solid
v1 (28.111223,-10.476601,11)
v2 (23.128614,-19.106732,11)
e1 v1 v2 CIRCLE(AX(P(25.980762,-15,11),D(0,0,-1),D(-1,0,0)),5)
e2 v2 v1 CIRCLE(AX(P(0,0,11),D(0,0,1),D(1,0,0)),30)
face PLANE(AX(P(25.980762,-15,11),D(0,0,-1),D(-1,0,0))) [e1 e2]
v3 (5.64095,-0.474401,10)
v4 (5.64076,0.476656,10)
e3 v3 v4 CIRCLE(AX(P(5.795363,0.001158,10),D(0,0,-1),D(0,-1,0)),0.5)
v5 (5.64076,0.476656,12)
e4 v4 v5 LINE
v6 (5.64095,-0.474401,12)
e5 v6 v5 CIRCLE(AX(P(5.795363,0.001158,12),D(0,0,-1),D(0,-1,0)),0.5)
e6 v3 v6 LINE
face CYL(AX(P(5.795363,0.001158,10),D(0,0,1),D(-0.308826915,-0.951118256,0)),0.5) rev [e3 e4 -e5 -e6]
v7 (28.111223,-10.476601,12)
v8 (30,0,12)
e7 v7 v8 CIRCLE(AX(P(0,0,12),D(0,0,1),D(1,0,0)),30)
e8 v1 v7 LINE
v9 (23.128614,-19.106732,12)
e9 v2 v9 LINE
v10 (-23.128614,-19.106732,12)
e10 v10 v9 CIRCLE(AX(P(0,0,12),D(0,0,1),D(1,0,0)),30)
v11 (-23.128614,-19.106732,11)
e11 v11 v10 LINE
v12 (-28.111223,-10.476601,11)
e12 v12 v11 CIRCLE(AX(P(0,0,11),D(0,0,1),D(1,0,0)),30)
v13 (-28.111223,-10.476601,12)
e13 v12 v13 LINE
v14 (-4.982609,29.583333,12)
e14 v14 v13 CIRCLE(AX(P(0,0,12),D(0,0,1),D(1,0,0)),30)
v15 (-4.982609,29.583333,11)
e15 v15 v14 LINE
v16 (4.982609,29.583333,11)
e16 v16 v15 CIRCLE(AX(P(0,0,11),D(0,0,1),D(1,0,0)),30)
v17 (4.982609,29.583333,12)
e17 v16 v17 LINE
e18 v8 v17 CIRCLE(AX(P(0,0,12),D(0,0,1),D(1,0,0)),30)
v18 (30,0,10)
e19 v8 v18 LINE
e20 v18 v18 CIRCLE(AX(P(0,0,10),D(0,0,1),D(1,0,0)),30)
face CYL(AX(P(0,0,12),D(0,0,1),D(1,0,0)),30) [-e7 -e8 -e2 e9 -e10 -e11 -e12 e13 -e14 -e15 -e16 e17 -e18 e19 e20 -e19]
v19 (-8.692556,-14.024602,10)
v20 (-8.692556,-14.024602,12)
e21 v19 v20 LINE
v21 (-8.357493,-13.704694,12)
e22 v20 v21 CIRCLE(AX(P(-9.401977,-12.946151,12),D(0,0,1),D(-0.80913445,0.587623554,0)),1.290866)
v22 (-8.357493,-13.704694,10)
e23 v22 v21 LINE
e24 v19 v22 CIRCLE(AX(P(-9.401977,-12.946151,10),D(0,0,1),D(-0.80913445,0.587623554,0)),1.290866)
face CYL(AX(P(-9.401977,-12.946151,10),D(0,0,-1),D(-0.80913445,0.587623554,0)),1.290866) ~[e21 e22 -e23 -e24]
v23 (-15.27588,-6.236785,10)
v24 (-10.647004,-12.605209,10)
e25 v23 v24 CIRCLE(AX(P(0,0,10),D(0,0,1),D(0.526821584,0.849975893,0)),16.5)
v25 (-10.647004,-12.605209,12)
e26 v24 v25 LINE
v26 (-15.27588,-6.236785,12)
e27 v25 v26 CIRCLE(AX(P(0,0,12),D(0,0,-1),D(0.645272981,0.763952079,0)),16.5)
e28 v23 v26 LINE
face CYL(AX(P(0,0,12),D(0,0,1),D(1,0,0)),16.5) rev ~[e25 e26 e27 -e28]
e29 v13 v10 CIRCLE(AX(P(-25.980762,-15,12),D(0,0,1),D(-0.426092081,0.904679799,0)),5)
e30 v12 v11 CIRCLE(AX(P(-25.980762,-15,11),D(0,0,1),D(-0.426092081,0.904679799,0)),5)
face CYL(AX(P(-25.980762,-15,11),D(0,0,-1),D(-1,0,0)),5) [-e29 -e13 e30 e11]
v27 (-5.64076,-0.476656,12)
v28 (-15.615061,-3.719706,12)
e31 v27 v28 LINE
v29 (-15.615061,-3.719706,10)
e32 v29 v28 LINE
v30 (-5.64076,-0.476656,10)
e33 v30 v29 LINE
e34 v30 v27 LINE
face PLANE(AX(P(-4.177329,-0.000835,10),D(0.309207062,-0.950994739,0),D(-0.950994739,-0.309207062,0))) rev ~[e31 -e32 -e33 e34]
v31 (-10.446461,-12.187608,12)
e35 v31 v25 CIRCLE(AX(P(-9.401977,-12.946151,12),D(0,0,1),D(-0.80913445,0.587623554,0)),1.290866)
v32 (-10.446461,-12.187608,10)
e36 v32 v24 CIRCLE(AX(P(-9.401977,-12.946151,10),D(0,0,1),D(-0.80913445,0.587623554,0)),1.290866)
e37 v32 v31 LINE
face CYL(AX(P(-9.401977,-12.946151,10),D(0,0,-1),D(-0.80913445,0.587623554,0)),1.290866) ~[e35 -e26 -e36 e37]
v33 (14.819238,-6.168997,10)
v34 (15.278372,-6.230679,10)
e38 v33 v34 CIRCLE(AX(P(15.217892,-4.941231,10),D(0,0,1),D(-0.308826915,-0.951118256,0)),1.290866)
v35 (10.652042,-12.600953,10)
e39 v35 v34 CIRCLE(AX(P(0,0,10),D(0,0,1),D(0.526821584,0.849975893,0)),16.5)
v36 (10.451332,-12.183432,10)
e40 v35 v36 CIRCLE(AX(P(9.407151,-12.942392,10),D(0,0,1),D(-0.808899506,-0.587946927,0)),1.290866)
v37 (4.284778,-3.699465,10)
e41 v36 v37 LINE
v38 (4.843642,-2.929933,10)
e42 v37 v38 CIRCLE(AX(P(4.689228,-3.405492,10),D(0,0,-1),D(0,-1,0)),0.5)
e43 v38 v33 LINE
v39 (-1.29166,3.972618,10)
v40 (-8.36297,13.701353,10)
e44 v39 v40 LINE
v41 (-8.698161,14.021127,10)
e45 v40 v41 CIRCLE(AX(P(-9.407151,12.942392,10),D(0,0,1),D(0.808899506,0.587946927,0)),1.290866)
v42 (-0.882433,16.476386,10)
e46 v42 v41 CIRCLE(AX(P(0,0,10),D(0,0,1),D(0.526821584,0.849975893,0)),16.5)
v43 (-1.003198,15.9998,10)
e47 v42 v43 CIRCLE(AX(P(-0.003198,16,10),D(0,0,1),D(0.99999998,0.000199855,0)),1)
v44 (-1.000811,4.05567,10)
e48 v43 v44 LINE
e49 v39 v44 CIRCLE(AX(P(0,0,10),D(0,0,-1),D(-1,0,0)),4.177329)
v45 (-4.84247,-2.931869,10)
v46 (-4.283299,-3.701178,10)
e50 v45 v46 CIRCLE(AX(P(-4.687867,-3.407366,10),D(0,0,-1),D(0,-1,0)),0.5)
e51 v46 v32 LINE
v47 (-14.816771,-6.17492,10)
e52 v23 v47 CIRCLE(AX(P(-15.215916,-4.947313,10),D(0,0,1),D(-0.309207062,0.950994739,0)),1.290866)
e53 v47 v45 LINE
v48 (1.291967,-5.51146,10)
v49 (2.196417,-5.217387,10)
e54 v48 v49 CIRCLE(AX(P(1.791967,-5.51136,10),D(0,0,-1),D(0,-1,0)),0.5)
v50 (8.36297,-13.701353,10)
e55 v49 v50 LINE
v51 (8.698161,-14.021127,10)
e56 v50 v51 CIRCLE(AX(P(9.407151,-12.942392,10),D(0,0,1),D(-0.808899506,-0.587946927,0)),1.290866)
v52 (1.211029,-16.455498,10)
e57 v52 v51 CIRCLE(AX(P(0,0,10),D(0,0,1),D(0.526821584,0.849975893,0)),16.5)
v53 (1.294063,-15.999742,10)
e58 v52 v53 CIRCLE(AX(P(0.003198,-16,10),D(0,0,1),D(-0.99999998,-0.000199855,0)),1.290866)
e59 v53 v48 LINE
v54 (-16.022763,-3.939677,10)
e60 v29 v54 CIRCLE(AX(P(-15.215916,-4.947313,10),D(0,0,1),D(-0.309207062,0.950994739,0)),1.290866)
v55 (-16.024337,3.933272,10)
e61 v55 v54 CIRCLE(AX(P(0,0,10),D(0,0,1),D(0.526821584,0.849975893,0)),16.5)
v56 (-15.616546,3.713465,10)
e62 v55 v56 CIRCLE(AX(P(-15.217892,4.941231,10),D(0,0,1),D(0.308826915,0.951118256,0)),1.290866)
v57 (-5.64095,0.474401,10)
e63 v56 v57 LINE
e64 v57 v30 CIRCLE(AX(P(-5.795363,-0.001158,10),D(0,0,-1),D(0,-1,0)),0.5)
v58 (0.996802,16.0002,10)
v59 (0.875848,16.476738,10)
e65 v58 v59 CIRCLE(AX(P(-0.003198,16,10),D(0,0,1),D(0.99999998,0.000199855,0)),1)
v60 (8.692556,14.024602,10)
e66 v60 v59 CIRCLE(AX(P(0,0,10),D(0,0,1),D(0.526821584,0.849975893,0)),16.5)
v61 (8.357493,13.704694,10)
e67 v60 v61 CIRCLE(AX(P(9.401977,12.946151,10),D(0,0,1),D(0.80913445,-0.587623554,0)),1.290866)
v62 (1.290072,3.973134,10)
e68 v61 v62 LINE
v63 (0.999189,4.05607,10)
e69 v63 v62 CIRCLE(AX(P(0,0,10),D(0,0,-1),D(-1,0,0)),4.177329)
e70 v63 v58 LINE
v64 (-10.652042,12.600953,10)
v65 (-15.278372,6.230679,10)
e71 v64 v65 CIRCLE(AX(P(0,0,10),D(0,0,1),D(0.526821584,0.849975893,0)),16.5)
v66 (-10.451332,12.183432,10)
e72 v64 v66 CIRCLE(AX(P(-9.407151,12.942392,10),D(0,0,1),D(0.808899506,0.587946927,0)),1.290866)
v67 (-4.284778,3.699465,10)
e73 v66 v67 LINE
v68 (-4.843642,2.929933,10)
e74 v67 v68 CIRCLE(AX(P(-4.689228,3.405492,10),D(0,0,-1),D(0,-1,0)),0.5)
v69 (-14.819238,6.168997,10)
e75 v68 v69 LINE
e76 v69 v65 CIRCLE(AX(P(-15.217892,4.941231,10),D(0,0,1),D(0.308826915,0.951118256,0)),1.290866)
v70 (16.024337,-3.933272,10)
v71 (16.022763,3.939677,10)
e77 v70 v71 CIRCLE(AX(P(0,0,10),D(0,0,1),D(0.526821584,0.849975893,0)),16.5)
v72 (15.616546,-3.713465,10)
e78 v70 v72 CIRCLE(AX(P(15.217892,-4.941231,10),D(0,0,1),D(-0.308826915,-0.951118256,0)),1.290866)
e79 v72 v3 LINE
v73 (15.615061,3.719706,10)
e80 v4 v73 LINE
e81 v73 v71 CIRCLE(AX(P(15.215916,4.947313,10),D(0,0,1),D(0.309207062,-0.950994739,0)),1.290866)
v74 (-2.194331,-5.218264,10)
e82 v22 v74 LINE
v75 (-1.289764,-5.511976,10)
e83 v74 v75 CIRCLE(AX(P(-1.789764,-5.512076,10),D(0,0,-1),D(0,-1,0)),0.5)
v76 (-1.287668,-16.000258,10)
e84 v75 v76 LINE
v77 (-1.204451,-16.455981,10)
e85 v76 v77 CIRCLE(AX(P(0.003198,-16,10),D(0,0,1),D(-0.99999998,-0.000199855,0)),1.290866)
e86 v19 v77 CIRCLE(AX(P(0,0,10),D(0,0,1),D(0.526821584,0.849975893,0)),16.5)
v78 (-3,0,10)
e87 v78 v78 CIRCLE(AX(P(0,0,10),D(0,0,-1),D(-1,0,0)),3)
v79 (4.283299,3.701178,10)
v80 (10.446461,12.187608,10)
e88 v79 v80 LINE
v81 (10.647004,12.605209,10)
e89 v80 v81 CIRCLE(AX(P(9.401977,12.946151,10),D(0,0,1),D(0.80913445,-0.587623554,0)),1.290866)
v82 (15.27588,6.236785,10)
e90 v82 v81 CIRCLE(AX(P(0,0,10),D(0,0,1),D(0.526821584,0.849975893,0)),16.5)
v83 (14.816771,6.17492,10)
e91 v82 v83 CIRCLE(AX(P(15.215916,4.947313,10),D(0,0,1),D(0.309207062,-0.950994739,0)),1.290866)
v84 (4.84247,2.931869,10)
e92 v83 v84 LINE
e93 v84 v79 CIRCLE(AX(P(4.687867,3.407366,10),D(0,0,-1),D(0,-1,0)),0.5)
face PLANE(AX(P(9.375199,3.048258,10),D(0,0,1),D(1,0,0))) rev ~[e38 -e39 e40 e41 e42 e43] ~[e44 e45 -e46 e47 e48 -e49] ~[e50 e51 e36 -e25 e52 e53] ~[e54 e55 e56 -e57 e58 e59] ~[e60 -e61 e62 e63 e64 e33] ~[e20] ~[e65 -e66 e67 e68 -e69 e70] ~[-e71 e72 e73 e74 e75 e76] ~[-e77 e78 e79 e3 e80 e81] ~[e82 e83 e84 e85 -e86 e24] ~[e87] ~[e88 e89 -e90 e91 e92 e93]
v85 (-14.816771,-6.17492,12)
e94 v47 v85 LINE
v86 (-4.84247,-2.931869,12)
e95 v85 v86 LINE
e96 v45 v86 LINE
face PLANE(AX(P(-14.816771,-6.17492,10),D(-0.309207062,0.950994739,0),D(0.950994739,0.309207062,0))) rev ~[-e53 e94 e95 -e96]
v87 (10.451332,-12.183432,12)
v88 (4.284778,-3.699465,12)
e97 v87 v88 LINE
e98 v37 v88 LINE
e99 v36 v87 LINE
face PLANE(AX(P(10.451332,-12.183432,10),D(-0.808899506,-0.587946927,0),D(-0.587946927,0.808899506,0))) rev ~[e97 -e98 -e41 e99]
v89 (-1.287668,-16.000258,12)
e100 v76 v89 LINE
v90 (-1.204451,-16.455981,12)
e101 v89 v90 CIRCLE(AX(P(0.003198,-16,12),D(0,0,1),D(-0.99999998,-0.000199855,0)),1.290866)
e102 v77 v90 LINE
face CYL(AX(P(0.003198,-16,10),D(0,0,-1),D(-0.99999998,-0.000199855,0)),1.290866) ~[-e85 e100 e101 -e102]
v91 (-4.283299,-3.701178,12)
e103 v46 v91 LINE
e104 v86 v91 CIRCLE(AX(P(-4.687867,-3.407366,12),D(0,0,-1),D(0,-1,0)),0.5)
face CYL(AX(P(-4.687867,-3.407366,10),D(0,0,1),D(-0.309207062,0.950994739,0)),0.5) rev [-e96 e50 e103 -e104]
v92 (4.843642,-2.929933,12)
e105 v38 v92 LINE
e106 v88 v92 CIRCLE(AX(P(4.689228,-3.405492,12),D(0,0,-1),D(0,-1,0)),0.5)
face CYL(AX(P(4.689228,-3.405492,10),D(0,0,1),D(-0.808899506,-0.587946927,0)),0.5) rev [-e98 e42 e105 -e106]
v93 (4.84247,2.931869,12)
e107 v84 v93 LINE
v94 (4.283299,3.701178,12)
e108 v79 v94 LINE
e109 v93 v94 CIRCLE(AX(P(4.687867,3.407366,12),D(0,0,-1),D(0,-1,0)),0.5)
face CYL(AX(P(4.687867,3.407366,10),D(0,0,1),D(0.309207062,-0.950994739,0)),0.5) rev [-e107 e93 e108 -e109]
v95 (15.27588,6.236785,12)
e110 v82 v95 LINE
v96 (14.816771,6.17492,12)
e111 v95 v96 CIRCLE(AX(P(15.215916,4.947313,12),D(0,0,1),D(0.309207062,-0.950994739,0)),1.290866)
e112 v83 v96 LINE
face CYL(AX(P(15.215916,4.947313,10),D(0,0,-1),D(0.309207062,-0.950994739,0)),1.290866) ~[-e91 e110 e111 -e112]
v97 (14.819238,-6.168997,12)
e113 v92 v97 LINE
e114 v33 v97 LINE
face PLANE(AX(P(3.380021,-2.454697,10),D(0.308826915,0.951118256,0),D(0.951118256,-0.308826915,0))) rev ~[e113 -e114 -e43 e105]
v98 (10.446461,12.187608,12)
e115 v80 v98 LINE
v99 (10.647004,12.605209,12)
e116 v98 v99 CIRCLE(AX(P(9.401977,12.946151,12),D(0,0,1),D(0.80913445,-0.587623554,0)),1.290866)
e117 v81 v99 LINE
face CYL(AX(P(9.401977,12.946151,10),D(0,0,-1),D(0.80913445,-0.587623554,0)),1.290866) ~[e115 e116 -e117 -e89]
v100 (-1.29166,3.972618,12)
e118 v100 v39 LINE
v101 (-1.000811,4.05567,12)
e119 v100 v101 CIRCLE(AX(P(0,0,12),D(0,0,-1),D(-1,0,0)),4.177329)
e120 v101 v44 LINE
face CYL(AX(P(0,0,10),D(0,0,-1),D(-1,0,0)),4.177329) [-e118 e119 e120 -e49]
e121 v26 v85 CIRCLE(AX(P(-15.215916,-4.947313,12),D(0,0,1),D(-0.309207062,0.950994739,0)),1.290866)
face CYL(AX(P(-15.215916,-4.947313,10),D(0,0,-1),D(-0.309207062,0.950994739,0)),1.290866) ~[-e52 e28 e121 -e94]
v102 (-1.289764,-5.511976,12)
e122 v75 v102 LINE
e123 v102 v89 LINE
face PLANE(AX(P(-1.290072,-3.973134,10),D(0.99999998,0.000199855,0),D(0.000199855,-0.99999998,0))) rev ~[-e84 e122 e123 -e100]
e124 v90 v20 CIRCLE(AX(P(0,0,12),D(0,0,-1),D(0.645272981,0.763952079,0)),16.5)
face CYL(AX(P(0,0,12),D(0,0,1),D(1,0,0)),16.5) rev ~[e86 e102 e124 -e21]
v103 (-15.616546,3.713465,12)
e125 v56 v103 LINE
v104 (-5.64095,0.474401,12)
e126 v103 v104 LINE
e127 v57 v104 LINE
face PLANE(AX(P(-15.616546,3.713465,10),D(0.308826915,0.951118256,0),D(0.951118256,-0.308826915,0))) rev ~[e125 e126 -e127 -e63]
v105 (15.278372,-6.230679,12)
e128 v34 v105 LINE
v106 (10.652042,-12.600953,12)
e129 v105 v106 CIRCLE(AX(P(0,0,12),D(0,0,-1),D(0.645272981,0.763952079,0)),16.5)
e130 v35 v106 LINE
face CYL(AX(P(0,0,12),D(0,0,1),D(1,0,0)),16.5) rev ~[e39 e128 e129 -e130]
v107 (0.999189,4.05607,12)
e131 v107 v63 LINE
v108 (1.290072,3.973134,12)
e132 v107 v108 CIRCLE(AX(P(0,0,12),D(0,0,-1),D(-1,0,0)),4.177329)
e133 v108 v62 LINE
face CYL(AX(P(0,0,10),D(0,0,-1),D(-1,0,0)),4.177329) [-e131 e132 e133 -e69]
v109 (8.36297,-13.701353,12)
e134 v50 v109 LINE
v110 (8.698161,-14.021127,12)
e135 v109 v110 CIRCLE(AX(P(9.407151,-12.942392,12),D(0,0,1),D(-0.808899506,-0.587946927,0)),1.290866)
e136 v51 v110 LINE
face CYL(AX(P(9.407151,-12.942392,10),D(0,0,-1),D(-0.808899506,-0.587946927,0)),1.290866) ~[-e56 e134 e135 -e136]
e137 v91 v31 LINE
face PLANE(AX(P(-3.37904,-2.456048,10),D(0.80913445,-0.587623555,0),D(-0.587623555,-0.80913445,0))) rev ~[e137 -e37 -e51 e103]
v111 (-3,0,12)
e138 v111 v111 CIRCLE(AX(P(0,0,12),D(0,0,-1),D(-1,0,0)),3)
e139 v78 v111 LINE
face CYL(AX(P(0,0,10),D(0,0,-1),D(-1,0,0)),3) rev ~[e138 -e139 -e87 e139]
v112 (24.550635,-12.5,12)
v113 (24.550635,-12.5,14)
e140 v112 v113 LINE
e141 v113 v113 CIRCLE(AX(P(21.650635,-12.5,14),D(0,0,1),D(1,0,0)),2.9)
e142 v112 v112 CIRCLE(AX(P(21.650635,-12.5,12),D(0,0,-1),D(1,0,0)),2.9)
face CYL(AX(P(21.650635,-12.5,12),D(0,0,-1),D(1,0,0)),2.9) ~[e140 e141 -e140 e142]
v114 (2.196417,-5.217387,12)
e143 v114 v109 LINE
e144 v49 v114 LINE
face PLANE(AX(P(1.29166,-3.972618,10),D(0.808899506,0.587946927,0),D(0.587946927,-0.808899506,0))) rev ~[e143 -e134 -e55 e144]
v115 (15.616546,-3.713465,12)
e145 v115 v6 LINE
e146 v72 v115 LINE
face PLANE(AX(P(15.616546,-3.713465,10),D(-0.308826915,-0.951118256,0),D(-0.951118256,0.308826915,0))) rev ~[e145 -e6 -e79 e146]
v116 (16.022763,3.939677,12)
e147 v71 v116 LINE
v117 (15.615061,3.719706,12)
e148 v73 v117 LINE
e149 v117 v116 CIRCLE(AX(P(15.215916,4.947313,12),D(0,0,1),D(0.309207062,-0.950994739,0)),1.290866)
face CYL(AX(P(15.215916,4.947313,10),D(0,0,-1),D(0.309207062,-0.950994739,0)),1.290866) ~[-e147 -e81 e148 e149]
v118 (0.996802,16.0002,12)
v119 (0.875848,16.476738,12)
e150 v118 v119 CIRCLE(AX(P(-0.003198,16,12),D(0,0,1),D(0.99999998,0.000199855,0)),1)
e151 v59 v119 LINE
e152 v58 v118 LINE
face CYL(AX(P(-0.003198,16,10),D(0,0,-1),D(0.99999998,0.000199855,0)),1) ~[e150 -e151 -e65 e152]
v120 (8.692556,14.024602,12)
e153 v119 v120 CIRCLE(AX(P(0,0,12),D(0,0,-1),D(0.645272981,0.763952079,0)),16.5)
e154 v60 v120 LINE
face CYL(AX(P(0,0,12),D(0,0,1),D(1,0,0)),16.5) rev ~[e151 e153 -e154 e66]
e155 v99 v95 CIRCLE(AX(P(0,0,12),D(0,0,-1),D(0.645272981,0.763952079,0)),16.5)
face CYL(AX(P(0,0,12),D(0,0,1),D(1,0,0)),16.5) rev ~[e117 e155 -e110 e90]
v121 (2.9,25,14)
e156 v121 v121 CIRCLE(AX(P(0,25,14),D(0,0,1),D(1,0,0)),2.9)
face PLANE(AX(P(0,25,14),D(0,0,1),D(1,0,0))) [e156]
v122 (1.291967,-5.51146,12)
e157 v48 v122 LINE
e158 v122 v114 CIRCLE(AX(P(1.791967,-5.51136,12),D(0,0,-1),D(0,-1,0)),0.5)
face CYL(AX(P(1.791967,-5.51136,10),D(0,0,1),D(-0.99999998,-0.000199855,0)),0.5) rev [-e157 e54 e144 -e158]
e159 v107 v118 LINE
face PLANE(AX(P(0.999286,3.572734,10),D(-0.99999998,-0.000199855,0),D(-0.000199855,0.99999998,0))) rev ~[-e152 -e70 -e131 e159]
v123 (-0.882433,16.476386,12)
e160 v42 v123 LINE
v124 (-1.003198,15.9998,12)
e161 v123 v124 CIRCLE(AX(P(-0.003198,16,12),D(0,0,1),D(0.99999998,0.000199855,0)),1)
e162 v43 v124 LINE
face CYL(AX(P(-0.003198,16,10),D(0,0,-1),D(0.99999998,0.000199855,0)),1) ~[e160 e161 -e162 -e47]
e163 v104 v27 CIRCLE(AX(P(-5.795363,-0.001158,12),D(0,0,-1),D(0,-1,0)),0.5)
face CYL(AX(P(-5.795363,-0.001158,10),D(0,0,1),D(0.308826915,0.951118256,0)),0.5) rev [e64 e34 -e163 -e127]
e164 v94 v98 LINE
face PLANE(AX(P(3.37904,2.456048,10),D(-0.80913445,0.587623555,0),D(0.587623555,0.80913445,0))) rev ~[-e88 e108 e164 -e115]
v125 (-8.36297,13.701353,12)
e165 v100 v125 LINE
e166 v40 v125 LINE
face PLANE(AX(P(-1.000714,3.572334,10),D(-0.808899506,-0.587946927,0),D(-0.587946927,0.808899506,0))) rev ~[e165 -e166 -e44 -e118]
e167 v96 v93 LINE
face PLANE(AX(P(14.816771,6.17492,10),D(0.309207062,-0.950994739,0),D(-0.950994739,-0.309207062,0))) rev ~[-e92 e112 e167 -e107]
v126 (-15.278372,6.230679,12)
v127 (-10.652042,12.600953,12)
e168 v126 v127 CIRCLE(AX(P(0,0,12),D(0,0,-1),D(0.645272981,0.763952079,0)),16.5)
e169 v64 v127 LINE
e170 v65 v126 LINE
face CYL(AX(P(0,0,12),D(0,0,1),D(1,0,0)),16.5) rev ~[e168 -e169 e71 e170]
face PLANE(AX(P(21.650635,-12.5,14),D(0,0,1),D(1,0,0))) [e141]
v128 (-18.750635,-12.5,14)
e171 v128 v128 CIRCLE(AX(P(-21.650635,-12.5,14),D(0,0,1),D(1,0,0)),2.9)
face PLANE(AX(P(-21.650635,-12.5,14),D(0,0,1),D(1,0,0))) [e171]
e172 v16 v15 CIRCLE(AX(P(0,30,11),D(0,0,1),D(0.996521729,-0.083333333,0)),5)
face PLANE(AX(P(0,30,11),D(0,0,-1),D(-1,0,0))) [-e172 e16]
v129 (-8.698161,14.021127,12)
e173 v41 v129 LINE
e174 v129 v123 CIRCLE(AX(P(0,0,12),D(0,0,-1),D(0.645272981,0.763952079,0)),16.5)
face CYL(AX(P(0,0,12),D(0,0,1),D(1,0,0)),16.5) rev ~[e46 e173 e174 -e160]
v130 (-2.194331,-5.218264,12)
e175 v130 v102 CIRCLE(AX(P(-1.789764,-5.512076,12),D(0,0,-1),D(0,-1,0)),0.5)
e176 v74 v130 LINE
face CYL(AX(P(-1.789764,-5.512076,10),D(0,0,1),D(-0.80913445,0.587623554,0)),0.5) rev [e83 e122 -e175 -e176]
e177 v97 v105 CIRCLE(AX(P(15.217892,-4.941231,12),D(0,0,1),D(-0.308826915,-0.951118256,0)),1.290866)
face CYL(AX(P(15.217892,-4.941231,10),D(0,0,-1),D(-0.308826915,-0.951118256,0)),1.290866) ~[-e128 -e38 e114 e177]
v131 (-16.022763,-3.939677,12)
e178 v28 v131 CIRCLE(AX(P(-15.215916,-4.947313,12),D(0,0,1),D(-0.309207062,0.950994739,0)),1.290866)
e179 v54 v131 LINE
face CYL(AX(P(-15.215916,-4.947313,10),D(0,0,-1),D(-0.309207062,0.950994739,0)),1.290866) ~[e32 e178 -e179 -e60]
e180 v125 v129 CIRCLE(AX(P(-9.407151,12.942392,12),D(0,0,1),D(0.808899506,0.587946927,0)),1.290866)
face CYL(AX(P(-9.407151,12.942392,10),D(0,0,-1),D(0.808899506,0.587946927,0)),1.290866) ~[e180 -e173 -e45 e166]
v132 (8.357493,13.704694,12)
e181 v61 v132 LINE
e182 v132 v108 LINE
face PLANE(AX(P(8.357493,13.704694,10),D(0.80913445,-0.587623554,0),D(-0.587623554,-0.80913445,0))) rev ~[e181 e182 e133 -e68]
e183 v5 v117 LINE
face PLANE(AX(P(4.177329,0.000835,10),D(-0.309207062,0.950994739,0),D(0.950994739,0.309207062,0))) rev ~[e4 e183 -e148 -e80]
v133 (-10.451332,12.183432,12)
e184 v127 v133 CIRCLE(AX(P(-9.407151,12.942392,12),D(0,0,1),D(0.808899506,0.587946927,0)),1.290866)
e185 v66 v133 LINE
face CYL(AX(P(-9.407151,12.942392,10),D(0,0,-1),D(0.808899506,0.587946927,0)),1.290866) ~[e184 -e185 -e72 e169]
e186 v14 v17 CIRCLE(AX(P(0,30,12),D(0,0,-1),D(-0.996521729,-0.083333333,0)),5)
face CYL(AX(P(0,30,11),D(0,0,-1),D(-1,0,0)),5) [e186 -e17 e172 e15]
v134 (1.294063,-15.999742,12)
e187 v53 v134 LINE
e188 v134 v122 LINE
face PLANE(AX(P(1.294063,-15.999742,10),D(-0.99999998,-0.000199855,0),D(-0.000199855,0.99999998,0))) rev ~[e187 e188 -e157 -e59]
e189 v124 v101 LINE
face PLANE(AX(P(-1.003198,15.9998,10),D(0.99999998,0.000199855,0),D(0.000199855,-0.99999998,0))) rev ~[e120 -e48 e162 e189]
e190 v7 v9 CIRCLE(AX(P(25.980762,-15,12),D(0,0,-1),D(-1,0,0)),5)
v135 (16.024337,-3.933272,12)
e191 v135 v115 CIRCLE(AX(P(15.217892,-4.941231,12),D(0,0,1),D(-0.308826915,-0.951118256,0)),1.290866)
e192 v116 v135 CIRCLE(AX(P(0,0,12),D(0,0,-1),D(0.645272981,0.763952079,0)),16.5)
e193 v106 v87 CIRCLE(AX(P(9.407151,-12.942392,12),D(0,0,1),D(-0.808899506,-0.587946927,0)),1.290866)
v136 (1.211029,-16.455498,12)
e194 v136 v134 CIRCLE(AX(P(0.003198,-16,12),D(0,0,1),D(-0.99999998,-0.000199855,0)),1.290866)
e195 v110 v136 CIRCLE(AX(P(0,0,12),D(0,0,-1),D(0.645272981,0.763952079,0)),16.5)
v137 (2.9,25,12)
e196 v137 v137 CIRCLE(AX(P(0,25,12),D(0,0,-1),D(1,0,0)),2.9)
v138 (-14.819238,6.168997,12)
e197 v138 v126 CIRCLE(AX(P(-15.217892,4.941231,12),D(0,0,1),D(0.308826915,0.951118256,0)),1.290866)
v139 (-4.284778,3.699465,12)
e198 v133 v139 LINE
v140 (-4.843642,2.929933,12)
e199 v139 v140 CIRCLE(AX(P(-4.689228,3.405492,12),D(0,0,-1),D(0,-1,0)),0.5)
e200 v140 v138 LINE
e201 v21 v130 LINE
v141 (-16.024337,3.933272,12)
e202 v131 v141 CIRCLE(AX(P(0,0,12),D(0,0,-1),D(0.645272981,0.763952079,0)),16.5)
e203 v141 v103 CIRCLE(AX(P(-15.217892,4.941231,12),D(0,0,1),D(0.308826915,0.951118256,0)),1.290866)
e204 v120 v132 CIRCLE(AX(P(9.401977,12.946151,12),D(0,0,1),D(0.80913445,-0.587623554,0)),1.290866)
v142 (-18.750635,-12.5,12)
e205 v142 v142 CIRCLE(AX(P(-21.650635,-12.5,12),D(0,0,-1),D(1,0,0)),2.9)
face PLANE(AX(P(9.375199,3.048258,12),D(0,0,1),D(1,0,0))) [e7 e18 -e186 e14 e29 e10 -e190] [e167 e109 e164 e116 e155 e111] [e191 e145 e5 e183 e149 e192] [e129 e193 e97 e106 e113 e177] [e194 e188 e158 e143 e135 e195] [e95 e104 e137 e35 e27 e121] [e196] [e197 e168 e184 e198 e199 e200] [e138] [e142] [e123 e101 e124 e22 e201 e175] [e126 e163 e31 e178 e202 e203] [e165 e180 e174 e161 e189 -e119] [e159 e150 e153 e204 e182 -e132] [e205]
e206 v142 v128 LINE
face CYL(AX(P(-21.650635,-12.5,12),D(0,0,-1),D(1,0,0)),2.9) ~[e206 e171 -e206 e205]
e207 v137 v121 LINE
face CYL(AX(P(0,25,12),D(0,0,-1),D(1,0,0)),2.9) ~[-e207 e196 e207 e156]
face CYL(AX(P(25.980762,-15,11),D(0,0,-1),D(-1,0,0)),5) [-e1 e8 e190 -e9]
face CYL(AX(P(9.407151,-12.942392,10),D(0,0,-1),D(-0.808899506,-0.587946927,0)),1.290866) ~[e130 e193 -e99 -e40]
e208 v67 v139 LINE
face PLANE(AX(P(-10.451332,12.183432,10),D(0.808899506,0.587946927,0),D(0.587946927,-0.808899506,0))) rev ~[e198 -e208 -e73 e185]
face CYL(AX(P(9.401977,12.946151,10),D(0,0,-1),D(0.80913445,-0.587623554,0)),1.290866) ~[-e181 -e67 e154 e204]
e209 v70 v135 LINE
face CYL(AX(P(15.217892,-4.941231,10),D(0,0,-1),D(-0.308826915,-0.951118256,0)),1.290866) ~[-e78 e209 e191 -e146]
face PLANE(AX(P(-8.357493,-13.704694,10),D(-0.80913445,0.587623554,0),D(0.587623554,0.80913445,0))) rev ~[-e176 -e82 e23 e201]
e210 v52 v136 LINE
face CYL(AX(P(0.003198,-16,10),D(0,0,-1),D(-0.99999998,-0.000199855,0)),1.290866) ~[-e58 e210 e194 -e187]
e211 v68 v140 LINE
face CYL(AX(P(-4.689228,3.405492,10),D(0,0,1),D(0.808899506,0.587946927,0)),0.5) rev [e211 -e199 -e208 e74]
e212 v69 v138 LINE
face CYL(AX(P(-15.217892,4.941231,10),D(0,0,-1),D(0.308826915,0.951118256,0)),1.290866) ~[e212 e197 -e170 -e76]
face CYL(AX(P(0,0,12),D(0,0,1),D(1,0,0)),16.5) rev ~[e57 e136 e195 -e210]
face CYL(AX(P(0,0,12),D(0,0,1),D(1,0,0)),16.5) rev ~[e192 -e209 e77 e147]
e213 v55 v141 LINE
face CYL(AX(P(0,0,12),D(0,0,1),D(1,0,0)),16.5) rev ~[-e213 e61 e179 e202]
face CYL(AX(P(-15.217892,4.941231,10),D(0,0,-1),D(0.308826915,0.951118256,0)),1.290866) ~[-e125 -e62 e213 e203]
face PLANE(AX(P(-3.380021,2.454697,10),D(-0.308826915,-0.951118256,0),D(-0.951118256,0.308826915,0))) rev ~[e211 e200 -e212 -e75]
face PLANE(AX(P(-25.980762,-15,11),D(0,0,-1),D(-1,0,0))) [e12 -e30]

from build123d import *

# Parameters (mm, degrees)
BOSS_EXTRUDE1_DEPTH    = 2
BOSS_EXTRUDE1_2_DEPTH  = 2
BOSS_EXTRUDE1_3_DEPTH  = 2
BOSS_EXTRUDE1_4_DEPTH  = 2
BOSS_EXTRUDE1_5_DEPTH  = 2
BOSS_EXTRUDE1_6_DEPTH  = 2
BOSS_EXTRUDE1_7_DEPTH  = 2
BOSS_EXTRUDE1_8_DEPTH  = 2
BOSS_EXTRUDE1_9_DEPTH  = 2
BOSS_EXTRUDE1_10_DEPTH = 2
SKETCH3_R              = 30
SKETCH3_R_2            = 16.5
BOSS_EXTRUDE2_DEPTH    = 2
SKETCH4_R              = 2.9
BOSS_EXTRUDE3_DEPTH    = 2
SKETCH6_R              = 5
BOSS_EXTRUDE4_DEPTH    = 1
SKETCH13_R             = 4.177329345
BOSS_EXTRUDE6_DEPTH    = 2
FILLET2_R              = 0.5
SKETCH14_R             = 3
CUT_EXTRUDE1_DEPTH     = 20


with BuildPart() as part:
    # Sketch2 → Boss-Extrude1 (new body)
    with BuildSketch(Plane.XY.offset(10)):
        with BuildLine():
            Line((8.357492916, 13.704694326), (0.999285991, 3.572733706))
            Line((0.999285991, 3.572733706), (0.999663781, 1.6824161))
            Line((0.999663781, 1.6824161), (3.379039645, 2.45604795))
            Line((3.379039645, 2.45604795), (10.446460828, 12.187608075))
            ThreePointArc((10.446460828, 12.187608075), (10.160519997, 13.990635156), (8.357492916, 13.704694326))
        make_face()
    extrude(amount=BOSS_EXTRUDE1_DEPTH)


with BuildPart() as body_2:
    # Sketch2 → Boss-Extrude1 2 (new body)
    with BuildSketch(Plane.XY.offset(10)):
        with BuildLine():
            Line((0.999285991, 3.572733706), (0.996802301, 16.000199535))
            ThreePointArc((0.996802301, 16.000199535), (-0.003397534, 16.99999966), (-1.003197659, 15.999799826))
            Line((-1.003197659, 15.999799826), (-1.000713969, 3.572333996))
            Line((-1.000713969, 3.572333996), (-0.000438912, 2.196151958))
            Line((-0.000438912, 2.196151958), (0.999285991, 3.572733706))
        make_face()
    extrude(amount=BOSS_EXTRUDE1_2_DEPTH)


with BuildPart() as body_3:
    # Sketch2 → Boss-Extrude1 3 (new body)
    with BuildSketch(Plane.XY.offset(10)):
        with BuildLine():
            Line((-1.000336179, 1.68201639), (-1.000713969, 3.572333996))
            Line((-1.000713969, 3.572333996), (-8.362970151, 13.701352658))
            ThreePointArc((-8.362970151, 13.701352658), (-10.166111381, 13.986572778), (-10.451331501, 12.183431547))
            Line((-10.451331501, 12.183431547), (-3.380021082, 2.454697118))
            Line((-3.380021082, 2.454697118), (-1.000336179, 1.68201639))
        make_face()
    extrude(amount=BOSS_EXTRUDE1_3_DEPTH)


with BuildPart() as body_4:
    # Sketch2 → Boss-Extrude1 4 (new body)
    with BuildSketch(Plane.XY.offset(10)):
        with BuildLine():
            Line((-2.088800262, 0.678230847), (-3.380021082, 2.454697118))
            Line((-3.380021082, 2.454697118), (-14.819238004, 6.168996626))
            ThreePointArc((-14.819238004, 6.168996626), (-16.445658083, 5.339884727), (-15.616546184, 3.713464648))
            Line((-15.616546184, 3.713464648), (-4.177329262, -0.00083486))
            Line((-4.177329262, -0.00083486), (-2.088800262, 0.678230847))
        make_face()
    extrude(amount=BOSS_EXTRUDE1_4_DEPTH)


with BuildPart() as body_5:
    # Sketch2 → Boss-Extrude1 5 (new body)
    with BuildSketch(Plane.XY.offset(10)):
        with BuildLine():
            Line((-2.088529, -0.679065707), (-4.177329262, -0.00083486))
            Line((-4.177329262, -0.00083486), (-15.615060628, -3.71970644))
            ThreePointArc((-15.615060628, -3.71970644), (-16.443522365, -5.346457793), (-14.816771011, -6.17491953))
            Line((-14.816771011, -6.17491953), (-3.379039645, -2.45604795))
            Line((-3.379039645, -2.45604795), (-2.088529, -0.679065707))
        make_face()
    extrude(amount=BOSS_EXTRUDE1_5_DEPTH)


with BuildPart() as body_6:
    # Sketch2 → Boss-Extrude1 6 (new body)
    with BuildSketch(Plane.XY.offset(10)):
        with BuildLine():
            Line((-1.290510646, -1.776982243), (-3.379039645, -2.45604795))
            Line((-3.379039645, -2.45604795), (-10.446460828, -12.187608075))
            ThreePointArc((-10.446460828, -12.187608075), (-10.160519997, -13.990635156), (-8.357492916, -13.704694326))
            Line((-8.357492916, -13.704694326), (-1.290071734, -3.973134201))
            Line((-1.290071734, -3.973134201), (-1.290510646, -1.776982243))
        make_face()
    extrude(amount=BOSS_EXTRUDE1_6_DEPTH)


with BuildPart() as body_7:
    # Sketch2 → Boss-Extrude1 7 (new body)
    with BuildSketch(Plane.XY.offset(10)):
        with BuildLine():
            Line((1.294063412, -15.999741695), (1.291659732, -3.972618229))
            Line((1.291659732, -3.972618229), (0.000438912, -2.196151958))
            Line((0.000438912, -2.196151958), (-1.290071734, -3.973134201))
            Line((-1.290071734, -3.973134201), (-1.287668054, -16.000257666))
            ThreePointArc((-1.287668054, -16.000257666), (0.003455665, -17.290865413), (1.294063412, -15.999741695))
        make_face()
    extrude(amount=BOSS_EXTRUDE1_7_DEPTH)


with BuildPart() as body_8:
    # Sketch2 → Boss-Extrude1 8 (new body)
    with BuildSketch(Plane.XY.offset(10)):
        with BuildLine():
            Line((10.451331501, -12.183431547), (3.380021082, -2.454697118))
            Line((3.380021082, -2.454697118), (1.29122082, -1.776466271))
            Line((1.29122082, -1.776466271), (1.291659732, -3.972618229))
            Line((1.291659732, -3.972618229), (8.362970151, -13.701352658))
            ThreePointArc((8.362970151, -13.701352658), (10.166111381, -13.986572778), (10.451331501, -12.183431547))
        make_face()
    extrude(amount=BOSS_EXTRUDE1_8_DEPTH)


with BuildPart() as body_9:
    # Sketch2 → Boss-Extrude1 9 (new body)
    with BuildSketch(Plane.XY.offset(10)):
        with BuildLine():
            Line((15.616546184, -3.713464648), (4.177329262, 0.00083486))
            Line((4.177329262, 0.00083486), (2.088800262, -0.678230847))
            Line((2.088800262, -0.678230847), (3.380021082, -2.454697118))
            Line((3.380021082, -2.454697118), (14.819238004, -6.168996626))
            ThreePointArc((14.819238004, -6.168996626), (16.445658083, -5.339884727), (15.616546184, -3.713464648))
        make_face()
    extrude(amount=BOSS_EXTRUDE1_9_DEPTH)


with BuildPart() as body_10:
    # Sketch2 → Boss-Extrude1 10 (new body)
    with BuildSketch(Plane.XY.offset(10)):
        with BuildLine():
            Line((14.816771011, 6.17491953), (3.379039645, 2.45604795))
            Line((3.379039645, 2.45604795), (2.088529, 0.679065707))
            Line((2.088529, 0.679065707), (4.177329262, 0.00083486))
            Line((4.177329262, 0.00083486), (15.615060628, 3.71970644))
            ThreePointArc((15.615060628, 3.71970644), (16.443522365, 5.346457793), (14.816771011, 6.17491953))
        make_face()
    extrude(amount=BOSS_EXTRUDE1_10_DEPTH)


with BuildPart() as body_11:
    # Sketch3 → Boss-Extrude2 (new body)
    with BuildSketch(Plane.XY.offset(12)):
        Circle(SKETCH3_R)
        Circle(SKETCH3_R_2, mode=Mode.SUBTRACT)
    extrude(amount=-BOSS_EXTRUDE2_DEPTH)

    # Sketch4 → Boss-Extrude3 (add)
    with BuildSketch(Plane.XY.offset(12)):
        with Locations((0, 25)):
            Circle(SKETCH4_R)
        with Locations((21.650635095, -12.5)):
            Circle(SKETCH4_R)
        with Locations((-21.650635095, -12.5)):
            Circle(SKETCH4_R)
    extrude(amount=BOSS_EXTRUDE3_DEPTH)

    # Sketch6 → Boss-Extrude4 (add)
    with BuildSketch(Plane(origin=(0, 0, 11), x_dir=(-1, 0, 0), z_dir=(0, 0, -1))):
        with Locations((0, 30)):
            Circle(SKETCH6_R)
        with Locations((25.980762114, -15)):
            Circle(SKETCH6_R)
        with Locations((-25.980762114, -15)):
            Circle(SKETCH6_R)
    extrude(amount=-BOSS_EXTRUDE4_DEPTH)


    add(part.part)  # Boss-Extrude6 merges part

    add(body_3.part)  # Boss-Extrude6 merges body 3

    add(body_5.part)  # Boss-Extrude6 merges body 5

    add(body_7.part)  # Boss-Extrude6 merges body 7

    add(body_9.part)  # Boss-Extrude6 merges body 9

    add(body_2.part)  # Boss-Extrude6 merges body 2

    add(body_4.part)  # Boss-Extrude6 merges body 4

    add(body_6.part)  # Boss-Extrude6 merges body 6

    add(body_8.part)  # Boss-Extrude6 merges body 8

    add(body_10.part)  # Boss-Extrude6 merges body 10
    # Sketch13 → Boss-Extrude6 (add)
    with BuildSketch(Plane(origin=(0, 0, 10), x_dir=(-1, 0, 0), z_dir=(0, 0, -1))):
        Circle(SKETCH13_R)
    extrude(amount=-BOSS_EXTRUDE6_DEPTH)

    # Fillet2
    fillet2_edges = [body_11.edges().sort_by_distance(p)[0] for p in [
        (-1.290071734, -3.973134201, 11),
        (1.291659732, -3.972618229, 11),
        (3.380021082, -2.454697118, 11),
        (4.177329262, 0.00083486, 11),
        (3.379039645, 2.45604795, 11),
        (-3.380021082, 2.454697118, 11),
        (-4.177329262, -0.00083486, 11),
        (-3.379039645, -2.45604795, 11),
    ]]
    fillet(fillet2_edges, radius=FILLET2_R)

    # Sketch14 → Cut-Extrude1 (cut)
    with BuildSketch(Plane(origin=(0, 0, 10), x_dir=(-1, 0, 0), z_dir=(0, 0, -1))):
        Circle(SKETCH14_R)
    extrude(amount=-CUT_EXTRUDE1_DEPTH, mode=Mode.SUBTRACT)


solid = body_11.part
